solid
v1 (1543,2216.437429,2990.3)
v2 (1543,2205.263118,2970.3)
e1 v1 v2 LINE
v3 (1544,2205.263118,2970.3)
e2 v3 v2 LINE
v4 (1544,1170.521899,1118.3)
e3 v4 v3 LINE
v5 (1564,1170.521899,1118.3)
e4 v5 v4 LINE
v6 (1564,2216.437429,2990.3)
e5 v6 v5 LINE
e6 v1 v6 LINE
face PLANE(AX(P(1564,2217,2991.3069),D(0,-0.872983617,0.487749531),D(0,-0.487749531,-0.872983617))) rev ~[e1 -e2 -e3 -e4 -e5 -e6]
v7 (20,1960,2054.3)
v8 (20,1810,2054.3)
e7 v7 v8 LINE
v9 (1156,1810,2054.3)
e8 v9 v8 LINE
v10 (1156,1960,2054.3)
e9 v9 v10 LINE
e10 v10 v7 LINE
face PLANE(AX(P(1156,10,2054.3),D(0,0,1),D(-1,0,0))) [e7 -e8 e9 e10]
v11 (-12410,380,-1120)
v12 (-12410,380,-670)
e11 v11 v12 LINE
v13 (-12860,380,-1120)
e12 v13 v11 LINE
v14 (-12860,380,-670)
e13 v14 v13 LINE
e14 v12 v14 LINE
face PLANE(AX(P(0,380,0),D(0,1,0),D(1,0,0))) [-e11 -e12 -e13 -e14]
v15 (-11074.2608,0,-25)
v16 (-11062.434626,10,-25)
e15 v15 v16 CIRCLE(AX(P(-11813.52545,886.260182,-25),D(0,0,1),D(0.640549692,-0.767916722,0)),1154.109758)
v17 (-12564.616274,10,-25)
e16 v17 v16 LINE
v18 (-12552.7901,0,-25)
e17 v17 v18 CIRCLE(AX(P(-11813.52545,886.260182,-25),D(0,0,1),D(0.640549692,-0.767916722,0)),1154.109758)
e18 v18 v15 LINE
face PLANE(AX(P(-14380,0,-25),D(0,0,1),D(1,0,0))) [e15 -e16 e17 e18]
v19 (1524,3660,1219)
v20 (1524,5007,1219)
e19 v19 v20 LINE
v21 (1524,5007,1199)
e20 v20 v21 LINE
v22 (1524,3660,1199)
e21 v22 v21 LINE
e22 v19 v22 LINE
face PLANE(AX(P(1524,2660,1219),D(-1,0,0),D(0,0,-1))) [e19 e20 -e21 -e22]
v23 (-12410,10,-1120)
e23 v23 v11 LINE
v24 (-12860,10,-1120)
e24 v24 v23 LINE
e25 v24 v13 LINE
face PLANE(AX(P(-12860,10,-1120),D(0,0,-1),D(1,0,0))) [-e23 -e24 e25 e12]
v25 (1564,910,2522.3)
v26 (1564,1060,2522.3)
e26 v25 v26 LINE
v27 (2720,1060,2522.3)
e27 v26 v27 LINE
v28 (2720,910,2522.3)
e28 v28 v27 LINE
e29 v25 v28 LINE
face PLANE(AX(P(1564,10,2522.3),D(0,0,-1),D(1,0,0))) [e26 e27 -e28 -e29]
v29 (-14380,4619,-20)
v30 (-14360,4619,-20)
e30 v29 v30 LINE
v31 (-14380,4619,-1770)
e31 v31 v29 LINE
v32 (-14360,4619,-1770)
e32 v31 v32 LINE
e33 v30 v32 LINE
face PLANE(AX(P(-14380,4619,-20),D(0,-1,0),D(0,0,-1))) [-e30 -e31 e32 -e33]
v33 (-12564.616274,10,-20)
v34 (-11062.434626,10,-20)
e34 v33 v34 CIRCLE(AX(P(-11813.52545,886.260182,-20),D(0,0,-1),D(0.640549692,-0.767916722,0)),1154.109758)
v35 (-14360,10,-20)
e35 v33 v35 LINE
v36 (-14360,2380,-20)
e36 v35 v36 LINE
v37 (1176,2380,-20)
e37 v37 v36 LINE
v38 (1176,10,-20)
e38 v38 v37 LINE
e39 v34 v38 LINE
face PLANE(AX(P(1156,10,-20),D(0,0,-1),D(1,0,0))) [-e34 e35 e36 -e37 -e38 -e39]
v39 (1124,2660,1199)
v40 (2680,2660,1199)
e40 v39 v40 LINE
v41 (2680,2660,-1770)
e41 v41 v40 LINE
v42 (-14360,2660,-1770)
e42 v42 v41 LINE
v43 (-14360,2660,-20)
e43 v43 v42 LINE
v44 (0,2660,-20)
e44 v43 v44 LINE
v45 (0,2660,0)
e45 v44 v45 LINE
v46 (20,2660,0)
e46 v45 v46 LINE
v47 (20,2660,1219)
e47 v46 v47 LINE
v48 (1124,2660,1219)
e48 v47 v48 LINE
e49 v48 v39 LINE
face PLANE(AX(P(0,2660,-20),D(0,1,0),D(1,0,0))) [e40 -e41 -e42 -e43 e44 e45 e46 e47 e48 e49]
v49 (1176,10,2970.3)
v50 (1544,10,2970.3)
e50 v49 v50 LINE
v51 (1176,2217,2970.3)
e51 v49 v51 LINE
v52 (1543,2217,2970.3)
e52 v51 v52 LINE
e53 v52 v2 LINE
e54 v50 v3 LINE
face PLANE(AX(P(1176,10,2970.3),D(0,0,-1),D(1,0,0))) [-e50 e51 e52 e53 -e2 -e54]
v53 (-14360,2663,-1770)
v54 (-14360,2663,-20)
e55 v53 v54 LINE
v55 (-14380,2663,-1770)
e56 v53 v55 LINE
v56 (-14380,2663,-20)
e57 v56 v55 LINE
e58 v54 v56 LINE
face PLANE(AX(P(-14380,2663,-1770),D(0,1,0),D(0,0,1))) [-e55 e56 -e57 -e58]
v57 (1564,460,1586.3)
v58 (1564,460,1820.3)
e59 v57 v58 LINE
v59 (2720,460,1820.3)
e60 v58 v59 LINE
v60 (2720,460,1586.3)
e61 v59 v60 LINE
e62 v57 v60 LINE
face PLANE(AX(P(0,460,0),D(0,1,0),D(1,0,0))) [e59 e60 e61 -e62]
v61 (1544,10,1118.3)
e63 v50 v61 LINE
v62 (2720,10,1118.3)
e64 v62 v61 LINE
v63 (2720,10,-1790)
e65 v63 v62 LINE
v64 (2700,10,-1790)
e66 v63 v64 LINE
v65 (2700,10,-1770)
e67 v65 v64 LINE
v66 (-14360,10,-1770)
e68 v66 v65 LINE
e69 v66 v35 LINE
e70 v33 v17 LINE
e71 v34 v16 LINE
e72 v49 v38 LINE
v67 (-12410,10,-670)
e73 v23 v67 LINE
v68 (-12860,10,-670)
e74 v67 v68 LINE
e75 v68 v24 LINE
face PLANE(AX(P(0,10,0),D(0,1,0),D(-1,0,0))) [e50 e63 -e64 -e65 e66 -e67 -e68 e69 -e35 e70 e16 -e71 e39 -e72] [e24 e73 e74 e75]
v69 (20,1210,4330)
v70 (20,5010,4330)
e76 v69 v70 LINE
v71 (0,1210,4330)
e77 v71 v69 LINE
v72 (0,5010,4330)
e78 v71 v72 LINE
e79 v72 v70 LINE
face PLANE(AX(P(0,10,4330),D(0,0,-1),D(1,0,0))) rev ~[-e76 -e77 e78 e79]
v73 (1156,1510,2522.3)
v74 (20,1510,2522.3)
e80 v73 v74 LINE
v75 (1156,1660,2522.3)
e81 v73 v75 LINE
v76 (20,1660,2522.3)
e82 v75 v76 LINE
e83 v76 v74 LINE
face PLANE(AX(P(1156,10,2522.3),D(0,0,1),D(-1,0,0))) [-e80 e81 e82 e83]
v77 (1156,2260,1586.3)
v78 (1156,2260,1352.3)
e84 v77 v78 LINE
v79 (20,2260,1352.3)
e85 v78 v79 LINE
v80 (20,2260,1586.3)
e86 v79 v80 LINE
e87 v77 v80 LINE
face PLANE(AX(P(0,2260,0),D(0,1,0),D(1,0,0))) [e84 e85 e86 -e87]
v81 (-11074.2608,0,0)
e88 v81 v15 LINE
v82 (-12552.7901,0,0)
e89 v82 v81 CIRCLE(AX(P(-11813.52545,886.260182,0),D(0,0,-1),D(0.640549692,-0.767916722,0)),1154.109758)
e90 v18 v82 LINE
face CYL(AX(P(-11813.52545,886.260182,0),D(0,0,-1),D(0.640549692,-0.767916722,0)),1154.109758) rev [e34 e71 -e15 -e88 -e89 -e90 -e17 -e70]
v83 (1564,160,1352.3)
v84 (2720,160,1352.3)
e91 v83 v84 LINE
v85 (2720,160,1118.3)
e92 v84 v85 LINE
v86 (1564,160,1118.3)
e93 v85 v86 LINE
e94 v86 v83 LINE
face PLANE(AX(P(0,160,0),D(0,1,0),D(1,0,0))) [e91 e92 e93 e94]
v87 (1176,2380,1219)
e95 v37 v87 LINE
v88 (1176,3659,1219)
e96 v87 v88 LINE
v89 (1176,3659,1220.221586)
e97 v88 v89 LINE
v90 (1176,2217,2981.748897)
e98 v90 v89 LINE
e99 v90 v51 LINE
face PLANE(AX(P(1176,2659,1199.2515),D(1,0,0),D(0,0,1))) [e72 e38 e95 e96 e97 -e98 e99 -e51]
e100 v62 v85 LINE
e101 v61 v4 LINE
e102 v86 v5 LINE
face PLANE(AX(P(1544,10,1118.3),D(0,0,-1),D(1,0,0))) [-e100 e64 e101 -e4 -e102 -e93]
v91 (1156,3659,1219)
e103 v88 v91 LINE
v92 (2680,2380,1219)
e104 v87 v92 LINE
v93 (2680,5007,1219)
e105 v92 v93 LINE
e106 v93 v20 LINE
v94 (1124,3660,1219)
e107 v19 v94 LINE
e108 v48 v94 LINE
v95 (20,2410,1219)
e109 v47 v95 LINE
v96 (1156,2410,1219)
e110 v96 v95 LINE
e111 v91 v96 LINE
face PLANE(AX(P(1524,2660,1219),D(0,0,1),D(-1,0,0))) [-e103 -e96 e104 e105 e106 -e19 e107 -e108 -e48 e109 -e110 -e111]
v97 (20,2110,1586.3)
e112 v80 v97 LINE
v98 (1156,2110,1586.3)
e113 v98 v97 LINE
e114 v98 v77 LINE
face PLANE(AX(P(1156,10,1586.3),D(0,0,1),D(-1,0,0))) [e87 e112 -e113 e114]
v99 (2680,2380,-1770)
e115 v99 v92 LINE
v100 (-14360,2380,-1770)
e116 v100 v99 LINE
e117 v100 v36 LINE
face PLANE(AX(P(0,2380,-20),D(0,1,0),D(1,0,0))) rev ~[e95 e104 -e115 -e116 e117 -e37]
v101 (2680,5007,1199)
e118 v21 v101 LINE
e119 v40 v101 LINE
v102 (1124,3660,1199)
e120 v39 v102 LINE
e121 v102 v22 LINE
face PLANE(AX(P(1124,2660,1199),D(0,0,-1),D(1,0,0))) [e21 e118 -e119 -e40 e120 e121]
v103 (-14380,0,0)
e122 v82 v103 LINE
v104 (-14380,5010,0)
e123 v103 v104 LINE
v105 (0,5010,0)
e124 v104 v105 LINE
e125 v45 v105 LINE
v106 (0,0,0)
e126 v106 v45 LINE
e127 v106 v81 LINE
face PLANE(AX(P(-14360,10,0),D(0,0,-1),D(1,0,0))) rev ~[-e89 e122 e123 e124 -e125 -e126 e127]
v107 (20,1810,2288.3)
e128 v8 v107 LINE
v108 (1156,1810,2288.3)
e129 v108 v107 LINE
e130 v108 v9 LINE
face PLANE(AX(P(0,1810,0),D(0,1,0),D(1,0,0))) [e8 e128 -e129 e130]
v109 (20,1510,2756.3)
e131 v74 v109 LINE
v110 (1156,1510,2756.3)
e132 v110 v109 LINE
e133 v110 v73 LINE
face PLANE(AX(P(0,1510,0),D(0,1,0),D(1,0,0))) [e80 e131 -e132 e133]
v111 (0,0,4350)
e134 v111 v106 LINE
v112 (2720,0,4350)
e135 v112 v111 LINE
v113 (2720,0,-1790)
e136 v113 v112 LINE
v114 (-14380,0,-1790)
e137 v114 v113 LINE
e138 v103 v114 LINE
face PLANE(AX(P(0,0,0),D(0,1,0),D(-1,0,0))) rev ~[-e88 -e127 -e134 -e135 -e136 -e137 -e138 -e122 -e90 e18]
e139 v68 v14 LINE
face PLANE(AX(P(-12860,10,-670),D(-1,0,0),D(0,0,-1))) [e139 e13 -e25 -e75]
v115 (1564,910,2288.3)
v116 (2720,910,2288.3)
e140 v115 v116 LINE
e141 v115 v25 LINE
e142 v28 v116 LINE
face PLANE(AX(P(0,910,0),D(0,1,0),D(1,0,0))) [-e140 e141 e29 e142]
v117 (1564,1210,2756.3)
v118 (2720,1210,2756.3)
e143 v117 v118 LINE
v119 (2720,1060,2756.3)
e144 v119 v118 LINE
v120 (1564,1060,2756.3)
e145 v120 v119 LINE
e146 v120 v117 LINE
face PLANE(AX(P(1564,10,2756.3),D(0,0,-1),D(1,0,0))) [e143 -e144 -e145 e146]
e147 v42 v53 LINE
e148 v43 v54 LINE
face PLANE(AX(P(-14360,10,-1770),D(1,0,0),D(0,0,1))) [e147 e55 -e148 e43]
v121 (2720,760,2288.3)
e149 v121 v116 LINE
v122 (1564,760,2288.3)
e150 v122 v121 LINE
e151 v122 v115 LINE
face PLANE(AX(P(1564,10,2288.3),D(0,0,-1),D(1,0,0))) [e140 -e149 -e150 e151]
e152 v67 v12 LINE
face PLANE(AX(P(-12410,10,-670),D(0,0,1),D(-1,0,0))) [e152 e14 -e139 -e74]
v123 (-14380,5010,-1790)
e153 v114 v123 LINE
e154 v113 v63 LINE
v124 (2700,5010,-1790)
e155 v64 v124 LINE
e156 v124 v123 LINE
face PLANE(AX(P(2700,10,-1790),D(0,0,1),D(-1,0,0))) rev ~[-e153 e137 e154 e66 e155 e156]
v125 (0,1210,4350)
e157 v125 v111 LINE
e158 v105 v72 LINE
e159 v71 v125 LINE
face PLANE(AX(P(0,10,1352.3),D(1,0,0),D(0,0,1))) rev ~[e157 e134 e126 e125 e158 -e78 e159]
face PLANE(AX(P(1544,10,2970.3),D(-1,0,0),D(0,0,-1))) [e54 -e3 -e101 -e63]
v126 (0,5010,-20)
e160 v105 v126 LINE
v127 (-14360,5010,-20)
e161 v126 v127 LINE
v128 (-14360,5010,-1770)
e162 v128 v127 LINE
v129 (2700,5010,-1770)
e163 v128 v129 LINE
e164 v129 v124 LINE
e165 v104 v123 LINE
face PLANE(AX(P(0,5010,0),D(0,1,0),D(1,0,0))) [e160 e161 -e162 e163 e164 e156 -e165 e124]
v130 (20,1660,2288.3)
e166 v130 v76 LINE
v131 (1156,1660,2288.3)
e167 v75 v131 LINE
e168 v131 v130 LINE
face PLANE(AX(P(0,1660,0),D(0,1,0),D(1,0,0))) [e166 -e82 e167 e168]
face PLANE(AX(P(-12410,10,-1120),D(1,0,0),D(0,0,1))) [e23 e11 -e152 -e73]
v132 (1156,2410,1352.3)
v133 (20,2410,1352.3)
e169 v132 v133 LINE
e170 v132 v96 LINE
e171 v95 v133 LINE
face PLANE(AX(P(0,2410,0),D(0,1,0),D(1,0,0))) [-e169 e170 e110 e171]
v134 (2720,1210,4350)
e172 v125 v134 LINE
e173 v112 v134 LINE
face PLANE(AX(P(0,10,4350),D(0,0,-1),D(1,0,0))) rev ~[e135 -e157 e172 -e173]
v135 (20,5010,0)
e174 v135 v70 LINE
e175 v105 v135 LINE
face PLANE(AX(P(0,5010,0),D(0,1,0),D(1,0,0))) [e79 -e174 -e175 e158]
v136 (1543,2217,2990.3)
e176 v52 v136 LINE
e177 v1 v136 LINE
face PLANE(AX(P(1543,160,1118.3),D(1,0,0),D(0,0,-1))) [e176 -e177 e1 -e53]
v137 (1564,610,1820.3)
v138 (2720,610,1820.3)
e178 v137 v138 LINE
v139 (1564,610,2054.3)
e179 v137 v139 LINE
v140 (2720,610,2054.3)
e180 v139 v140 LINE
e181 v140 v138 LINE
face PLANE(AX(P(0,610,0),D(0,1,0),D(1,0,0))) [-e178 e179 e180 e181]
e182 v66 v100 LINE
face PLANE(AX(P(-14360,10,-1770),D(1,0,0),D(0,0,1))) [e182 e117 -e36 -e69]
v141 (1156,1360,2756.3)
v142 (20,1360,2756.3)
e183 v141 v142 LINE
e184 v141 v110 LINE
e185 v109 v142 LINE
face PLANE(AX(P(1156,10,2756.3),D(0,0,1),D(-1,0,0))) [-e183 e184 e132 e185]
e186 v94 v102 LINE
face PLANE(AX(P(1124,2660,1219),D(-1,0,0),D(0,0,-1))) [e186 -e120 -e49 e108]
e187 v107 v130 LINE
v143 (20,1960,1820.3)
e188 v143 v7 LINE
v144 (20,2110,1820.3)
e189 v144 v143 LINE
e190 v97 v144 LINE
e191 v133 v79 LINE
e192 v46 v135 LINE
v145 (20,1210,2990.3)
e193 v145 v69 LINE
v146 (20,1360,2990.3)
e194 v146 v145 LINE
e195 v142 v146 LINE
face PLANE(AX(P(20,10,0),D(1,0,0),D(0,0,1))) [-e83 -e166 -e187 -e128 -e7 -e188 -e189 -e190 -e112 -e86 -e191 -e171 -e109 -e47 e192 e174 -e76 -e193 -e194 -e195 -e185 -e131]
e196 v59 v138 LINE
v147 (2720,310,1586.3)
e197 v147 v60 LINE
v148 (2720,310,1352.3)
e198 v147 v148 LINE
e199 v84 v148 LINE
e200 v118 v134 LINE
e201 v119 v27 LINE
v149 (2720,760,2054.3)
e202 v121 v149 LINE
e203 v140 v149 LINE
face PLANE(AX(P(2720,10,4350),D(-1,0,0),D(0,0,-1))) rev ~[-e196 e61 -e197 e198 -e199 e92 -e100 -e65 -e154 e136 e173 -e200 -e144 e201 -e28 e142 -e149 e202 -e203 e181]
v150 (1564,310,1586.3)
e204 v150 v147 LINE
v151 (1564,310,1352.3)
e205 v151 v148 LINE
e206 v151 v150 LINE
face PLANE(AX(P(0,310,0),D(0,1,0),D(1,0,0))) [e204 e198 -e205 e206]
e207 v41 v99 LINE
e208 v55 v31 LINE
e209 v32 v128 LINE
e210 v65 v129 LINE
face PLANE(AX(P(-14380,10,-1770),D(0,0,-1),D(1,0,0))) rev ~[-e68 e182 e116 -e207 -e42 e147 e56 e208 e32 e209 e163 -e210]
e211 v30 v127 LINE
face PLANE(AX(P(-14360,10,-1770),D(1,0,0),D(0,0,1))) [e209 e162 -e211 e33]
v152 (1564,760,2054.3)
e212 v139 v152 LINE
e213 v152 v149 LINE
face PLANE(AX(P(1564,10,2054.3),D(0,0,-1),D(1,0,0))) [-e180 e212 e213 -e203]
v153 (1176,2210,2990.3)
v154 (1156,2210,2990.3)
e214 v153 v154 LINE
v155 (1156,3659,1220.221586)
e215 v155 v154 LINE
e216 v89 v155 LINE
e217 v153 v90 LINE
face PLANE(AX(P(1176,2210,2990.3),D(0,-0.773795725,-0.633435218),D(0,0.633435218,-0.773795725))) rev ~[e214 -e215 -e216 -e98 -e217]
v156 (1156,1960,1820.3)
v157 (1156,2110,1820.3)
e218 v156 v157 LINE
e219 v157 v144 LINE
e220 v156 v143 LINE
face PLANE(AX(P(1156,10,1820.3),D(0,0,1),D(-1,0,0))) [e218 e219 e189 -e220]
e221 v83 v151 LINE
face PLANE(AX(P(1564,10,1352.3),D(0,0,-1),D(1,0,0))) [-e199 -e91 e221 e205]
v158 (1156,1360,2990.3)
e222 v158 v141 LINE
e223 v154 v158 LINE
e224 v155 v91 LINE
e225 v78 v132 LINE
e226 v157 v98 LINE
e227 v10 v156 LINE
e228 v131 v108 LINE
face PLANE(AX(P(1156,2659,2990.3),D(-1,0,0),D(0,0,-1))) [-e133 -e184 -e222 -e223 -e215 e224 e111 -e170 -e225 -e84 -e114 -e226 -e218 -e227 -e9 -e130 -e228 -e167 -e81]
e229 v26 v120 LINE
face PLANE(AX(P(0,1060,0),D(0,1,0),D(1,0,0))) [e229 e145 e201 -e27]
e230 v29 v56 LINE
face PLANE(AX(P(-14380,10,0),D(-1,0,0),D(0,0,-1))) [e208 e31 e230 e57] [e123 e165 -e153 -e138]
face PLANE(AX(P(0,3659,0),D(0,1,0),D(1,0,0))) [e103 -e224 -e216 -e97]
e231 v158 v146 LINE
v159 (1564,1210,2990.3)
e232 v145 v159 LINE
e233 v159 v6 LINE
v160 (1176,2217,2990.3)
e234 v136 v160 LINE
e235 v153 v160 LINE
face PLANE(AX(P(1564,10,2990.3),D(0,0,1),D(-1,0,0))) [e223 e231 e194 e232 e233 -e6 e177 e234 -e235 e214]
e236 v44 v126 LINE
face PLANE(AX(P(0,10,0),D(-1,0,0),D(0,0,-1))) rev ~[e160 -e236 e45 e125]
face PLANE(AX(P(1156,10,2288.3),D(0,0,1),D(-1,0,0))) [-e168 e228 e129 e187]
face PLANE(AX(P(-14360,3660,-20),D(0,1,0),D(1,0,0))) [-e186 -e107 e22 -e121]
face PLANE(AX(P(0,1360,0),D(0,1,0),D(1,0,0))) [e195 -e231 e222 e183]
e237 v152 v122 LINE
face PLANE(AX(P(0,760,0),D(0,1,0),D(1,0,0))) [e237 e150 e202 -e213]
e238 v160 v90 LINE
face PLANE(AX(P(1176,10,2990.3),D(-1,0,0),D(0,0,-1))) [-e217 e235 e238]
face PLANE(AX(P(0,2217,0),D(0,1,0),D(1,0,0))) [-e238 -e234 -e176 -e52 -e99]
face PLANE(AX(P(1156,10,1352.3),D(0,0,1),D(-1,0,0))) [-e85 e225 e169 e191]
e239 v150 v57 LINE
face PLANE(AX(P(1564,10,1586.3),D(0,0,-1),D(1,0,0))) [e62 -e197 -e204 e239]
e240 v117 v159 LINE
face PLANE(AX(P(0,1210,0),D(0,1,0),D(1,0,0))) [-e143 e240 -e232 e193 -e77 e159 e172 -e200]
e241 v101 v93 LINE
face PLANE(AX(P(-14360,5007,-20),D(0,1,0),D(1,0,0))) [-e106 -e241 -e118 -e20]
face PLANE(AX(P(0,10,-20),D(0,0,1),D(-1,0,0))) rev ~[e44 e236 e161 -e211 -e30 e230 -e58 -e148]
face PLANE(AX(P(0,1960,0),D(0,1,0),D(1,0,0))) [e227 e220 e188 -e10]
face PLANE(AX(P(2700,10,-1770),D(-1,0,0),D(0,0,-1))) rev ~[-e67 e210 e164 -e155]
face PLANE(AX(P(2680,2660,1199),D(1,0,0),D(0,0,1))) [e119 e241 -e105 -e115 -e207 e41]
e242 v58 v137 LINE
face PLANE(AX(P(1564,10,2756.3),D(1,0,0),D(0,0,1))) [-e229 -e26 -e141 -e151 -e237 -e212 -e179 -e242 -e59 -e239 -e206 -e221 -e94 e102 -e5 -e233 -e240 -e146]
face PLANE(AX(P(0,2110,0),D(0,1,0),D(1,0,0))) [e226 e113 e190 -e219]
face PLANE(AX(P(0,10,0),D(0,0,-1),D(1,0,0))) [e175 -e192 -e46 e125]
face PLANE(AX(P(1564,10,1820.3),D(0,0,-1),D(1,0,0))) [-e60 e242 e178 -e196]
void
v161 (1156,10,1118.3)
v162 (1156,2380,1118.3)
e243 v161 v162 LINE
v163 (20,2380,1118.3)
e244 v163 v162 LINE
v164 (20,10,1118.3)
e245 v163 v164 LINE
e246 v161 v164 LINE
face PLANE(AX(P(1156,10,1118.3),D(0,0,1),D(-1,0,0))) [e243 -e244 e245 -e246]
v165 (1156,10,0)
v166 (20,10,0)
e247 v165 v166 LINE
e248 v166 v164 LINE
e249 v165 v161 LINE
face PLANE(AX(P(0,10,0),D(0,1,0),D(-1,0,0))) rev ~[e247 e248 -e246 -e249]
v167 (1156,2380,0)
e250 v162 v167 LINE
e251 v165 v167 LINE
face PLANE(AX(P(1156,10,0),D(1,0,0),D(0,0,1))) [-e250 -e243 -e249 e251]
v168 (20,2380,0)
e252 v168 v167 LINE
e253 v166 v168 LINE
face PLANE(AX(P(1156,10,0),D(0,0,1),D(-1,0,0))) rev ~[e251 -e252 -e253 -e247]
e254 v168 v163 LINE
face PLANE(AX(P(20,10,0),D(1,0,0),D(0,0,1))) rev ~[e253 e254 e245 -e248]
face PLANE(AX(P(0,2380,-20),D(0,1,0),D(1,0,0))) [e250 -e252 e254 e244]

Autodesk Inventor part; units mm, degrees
ref_plane "YZ Plane" through (0, 0, 0) normal (1, 0, 0) x (0, 1, 0)
ref_plane "XZ Plane" through (0, 0, 0) normal (0, 1, 0) x (-1, 0, 0)
sketch "Sketch1" plane through (0, 0, 0) normal (0, 1, 0) x (-1, 0, 0)
  line L0 (0, 0) -> (14380, 0)
  line L1 (14380, 0) -> (14380, -1790)
  line L2 (14380, -1790) -> (0, -1790)
  line L3 (0, -1790) -> (0, 0)
  line L4 (0, -1790) -> (-2720, -1790)
  line L5 (-2720, -1790) -> (-2720, 4350)
  line L6 (-2720, 4350) -> (0, 4350)
  line L7 (0, 4350) -> (0, -1790)
  dimension "d0" = 1790
  dimension "d2" = 14380
  dimension "d3" = 2720
  dimension "d4" = 6140
extrude "Extrusion1" add sketch "Sketch1" along normal blind 10
sketch "Sketch2" plane through (0, 10, 0) normal (0, 1, 0) x (1, 0, 0)
  line L0 (2720, -4350) -> (2720, 1790) projected
  line L1 (0, -4350) -> (2720, -4350)
  line L2 (2720, -4350) -> (2720, -4330)
  line L3 (2720, -4330) -> (0, -4330)
  line L4 (0, -4330) -> (0, -4350)
  dimension "d7" = 20
extrude "Extrusion2" [suppressed]
sketch "Sketch3" plane through (0, 10, 0) normal (0, 1, 0) x (1, 0, 0)
  line L0 (2720, 1790) -> (-14380, 1790) projected
  line L1 (2720, -4330) -> (2700, -4330)
  line L2 (2700, -4330) -> (2700, 1790)
  line L3 (2700, 1790) -> (2720, 1790)
  line L4 (2720, 1790) -> (2720, -4330)
  dimension "d11" = 20
sketch "Sketch4" plane through (0, 10, 0) normal (0, 1, 0) x (1, 0, 0)
  line L0 (-14380, 1790) -> (-14380, 0) projected
  line L1 (2700, 1790) -> (-14380, 1790)
  line L2 (-14380, 1790) -> (-14380, 1770)
  line L3 (-14380, 1770) -> (2700, 1770)
  line L4 (2700, 1770) -> (2700, 1790)
  dimension "d15" = 20
extrude "Extrusion4" add sketch "Sketch4" along normal blind 5000
sketch "Sketch5" plane through (0, 10, 0) normal (0, 1, 0) x (1, 0, 0)
  line L0 (-14380, 0) -> (0, 0) projected
  line L1 (-14380, 1770) -> (-14360, 1770)
  line L2 (-14360, 1770) -> (-14360, 0)
  line L3 (-14360, 0) -> (-14380, 0)
  line L4 (-14380, 0) -> (-14380, 1770)
  dimension "d19" = 20
extrude "Extrusion5" add sketch "Sketch5" along normal blind 5000
sketch "Sketch6" plane through (0, 10, 0) normal (0, 1, 0) x (1, 0, 0)
  line L0 (-14360, 0) -> (0, 0)
  line L1 (0, 0) -> (0, 20)
  line L2 (0, 20) -> (-14360, 20)
  line L3 (-14360, 20) -> (-14360, 0)
  dimension "d23" = 20
extrude "Extrusion6" add sketch "Sketch6" along normal blind 5000
sketch "Sketch7" plane through (0, 10, 0) normal (0, 1, 0) x (1, 0, 0)
  line L0 (0, 0) -> (0, -4350) projected
  line L1 (0, -4330) -> (2720, -4330) projected
  line L2 (0, 0) -> (20, 0)
  line L3 (20, 0) -> (20, -4330)
  line L4 (20, -4330) -> (0, -4330)
  line L5 (0, -4330) -> (0, 0)
  point P0 (2700, -4330)
  dimension "d27" = 20
extrude "Extrusion7" add sketch "Sketch7" along normal blind 5000
ref_plane "Work Plane1" through (2690, 10, 4330) normal (-1, 0, 0) x (0, 0, 1)
sketch "Sketch12" plane through (0, 10, 0) normal (0, 1, 0) x (1, 0, 0)
  line L0 (-14360, 1770) -> (-14360, 20) projected
  line L1 (-14360, 20) -> (0, 20) projected
  line L2 (-12860, 1120) -> (-12410, 1120)
  line L3 (-12410, 1120) -> (-12410, 670)
  line L4 (-12410, 670) -> (-12860, 670)
  line L5 (-12860, 670) -> (-12860, 1120)
  dimension "d115" = 1500
  dimension "d116" = 450
  dimension "d117" = 450
  dimension "d118" = 650
extrude "Extrusion12" add sketch "Sketch12" along normal blind 370
sketch "Sketch13" plane through (-14360, 10, -1770) normal (1, 0, 0) x (0, 0, -1)
  line L0 (-1750, 5000) -> (-1750, 0) projected
  line L1 (0, 0) -> (-1750, 0) projected
  line L2 (0, 5000) -> (0, 0) projected
  line L3 (-1750, 5000) -> (0, 5000) projected
  line L4 (-1750, 2650) -> (0, 2650)
  line L5 (0, 2650) -> (0, 2370)
  line L6 (0, 2370) -> (-1750, 2370)
  line L7 (-1750, 2370) -> (-1750, 2650)
  point P0 (-1770, -10)
  dimension "d121" = 2370
  dimension "d122" = 2350
extrude "Extrusion13" add sketch "Sketch13" along normal blind 17040 contours L4 L2 L6 L0
sketch "Sketch14" plane through (0, 2380, -20) normal (0, 0, 1) x (1, 0, 0)
  line L0 (0, 0) -> (0, 280) projected
  line L1 (0, 0) -> (2680, 0) projected
  line L2 (0, 280) -> (2680, 280)
  line L3 (2680, 280) -> (2680, 0)
  line L4 (2680, 0) -> (0, 0)
  line L5 (0, 0) -> (0, 280)
  point P0 (0, -2380)
extrude "Extrusion14" add sketch "Sketch14" along normal blind 1239
sketch "Sketch16" plane through (-14360, 2660, -20) normal (0, 1, 0) x (1, 0, 0)
  line L0 (17040, -1239) -> (15884, -1239)
  line L1 (15884, -1239) -> (15884, -1219)
  line L2 (15884, -1219) -> (17040, -1219)
  line L3 (17040, -1219) -> (17040, -1239)
  line L4 (15884, -1239) -> (15484, -1239)
  line L5 (15484, -1239) -> (15484, -1219)
  line L6 (15484, -1219) -> (15884, -1219)
  line L7 (15884, -1219) -> (15884, -1239)
  dimension "d168" = 20
  dimension "d170" = 1156
  dimension "d258" = 20
  dimension "d259" = 400
extrude "Extrusion17" add sketch "Sketch16" along normal blind 2347 contours L0 L1 L2 L3
sketch "Sketch17" plane through (-14380, 0, -1790) normal (-1, 0, 0) x (0, 0, 1)
  line L0 (0, 5010) -> (1790, 5010) projected
  line L1 (20, 2663) -> (1770, 2663)
  line L2 (1770, 2663) -> (1770, 4619)
  line L3 (1770, 4619) -> (20, 4619)
  line L4 (20, 4619) -> (20, 2663)
  line L5 (0, 0) -> (0, 5010) projected
  dimension "d179" = 20
  dimension "d180" = 1750
  dimension "d181" = 391
  dimension "d182" = 1956
extrude "Extrusion18" cut sketch "Sketch17" along normal mid plane 50
sketch "Sketch18" plane through (-14380, 0, 0) normal (0, 0, 1) x (1, 0, 0)
  line L0 (0, 0) -> (14380, 0) projected
  arc A0 (3305.7392, 0) -> (1827.2099, 0) centre (2566.4746, 886.2602) ccw
extrude "Extrusion19" cut sketch "Sketch18" along normal mid plane 50
sketch "Sketch19" plane through (0, 10, 0) normal (0, 1, 0) x (1, 0, 0)
  line L0 (2720, -4350) -> (2720, 1790) projected
  line L1 (2720, -1118.3) -> (1564, -1118.3)
  line L2 (1564, -1118.3) -> (1564, -1352.3)
  line L3 (1564, -1352.3) -> (2720, -1352.3)
  line L4 (2720, -1352.3) -> (2720, -1118.3)
  line L5 (2700, 1790) -> (-14380, 1790) projected
  line L6 (2720, -1352.3) -> (1564, -1352.3)
  line L7 (1564, -1352.3) -> (1564, -1586.3)
  line L8 (1564, -1586.3) -> (2720, -1586.3)
  line L9 (2720, -1586.3) -> (2720, -1352.3)
  line L10 (2720, -1586.3) -> (1564, -1586.3)
  line L11 (1564, -1586.3) -> (1564, -1820.3)
  line L12 (1564, -1820.3) -> (2720, -1820.3)
  line L13 (2720, -1820.3) -> (2720, -1586.3)
  line L14 (2720, -1820.3) -> (1564, -1820.3)
  line L15 (1564, -1820.3) -> (1564, -2054.3)
  line L16 (1564, -2054.3) -> (2720, -2054.3)
  line L17 (2720, -2054.3) -> (2720, -1820.3)
  line L18 (2720, -2054.3) -> (1564, -2054.3)
  line L19 (1564, -2054.3) -> (1564, -2288.3)
  line L20 (1564, -2288.3) -> (2720, -2288.3)
  line L21 (2720, -2288.3) -> (2720, -2054.3)
  line L22 (2720, -2288.3) -> (1564, -2288.3)
  line L23 (1564, -2288.3) -> (1564, -2522.3)
  line L24 (1564, -2522.3) -> (2720, -2522.3)
  line L25 (2720, -2522.3) -> (2720, -2288.3)
  line L26 (2720, -2522.3) -> (1564, -2522.3)
  line L27 (1564, -2522.3) -> (1564, -2756.3)
  line L28 (1564, -2756.3) -> (2720, -2756.3)
  line L29 (2720, -2756.3) -> (2720, -2522.3)
  line L30 (2720, -2756.3) -> (1564, -2756.3)
  line L31 (1564, -2756.3) -> (1564, -2990.3)
  line L32 (1564, -2990.3) -> (2720, -2990.3)
  line L33 (2720, -2990.3) -> (2720, -2756.3)
  line L34 (0, 0) -> (0, -4350) projected
  line L35 (2720, -2990.3) -> (0, -2990.3)
  line L36 (0, -2990.3) -> (0, -4350)
  line L37 (0, -4350) -> (2720, -4350)
  line L38 (2720, -4350) -> (2720, -2990.3)
  line L39 (0, -2990.3) -> (1156, -2990.3)
  line L40 (1156, -2990.3) -> (1156, -2756.3)
  line L41 (1156, -2756.3) -> (0, -2756.3)
  line L42 (0, -2756.3) -> (0, -2990.3)
  line L43 (0, -2756.3) -> (1156, -2756.3)
  line L44 (1156, -2756.3) -> (1156, -2522.3)
  line L45 (1156, -2522.3) -> (0, -2522.3)
  line L46 (0, -2522.3) -> (0, -2756.3)
  line L47 (0, -2522.3) -> (1156, -2522.3)
  line L48 (1156, -2522.3) -> (1156, -2288.3)
  line L49 (1156, -2288.3) -> (0, -2288.3)
  line L50 (0, -2288.3) -> (0, -2522.3)
  line L51 (0, -2288.3) -> (1156, -2288.3)
  line L52 (1156, -2288.3) -> (1156, -2054.3)
  line L53 (1156, -2054.3) -> (0, -2054.3)
  line L54 (0, -2054.3) -> (0, -2288.3)
  line L55 (0, -2054.3) -> (1156, -2054.3)
  line L56 (1156, -2054.3) -> (1156, -1820.3)
  line L57 (1156, -1820.3) -> (0, -1820.3)
  line L58 (0, -1820.3) -> (0, -2054.3)
  line L59 (0, -1820.3) -> (1156, -1820.3)
  line L60 (1156, -1820.3) -> (1156, -1586.3)
  line L61 (1156, -1586.3) -> (0, -1586.3)
  line L62 (0, -1586.3) -> (0, -1820.3)
  line L63 (0, -1586.3) -> (1156, -1586.3)
  line L64 (1156, -1586.3) -> (1156, -1352.3)
  line L65 (1156, -1352.3) -> (0, -1352.3)
  line L66 (0, -1352.3) -> (0, -1586.3)
  line L67 (0, -1352.3) -> (1156, -1352.3)
  line L68 (1156, -1352.3) -> (1156, -1118.3)
  line L69 (1156, -1118.3) -> (0, -1118.3)
  line L70 (0, -1118.3) -> (0, -1352.3)
  line L71 (-11062.4346, 20) -> (0, 20) projected
  line L72 (0, 20) -> (1156, 20)
  line L73 (1156, 20) -> (1156, 0)
  line L74 (1156, 0) -> (0, 0)
  line L75 (0, 0) -> (0, 20)
  line L76 (0, 20) -> (2680, 20) projected
  line L77 (1156, -2990.3) -> (1176, -2990.3)
  line L78 (1176, -2990.3) -> (1176, 20)
  line L79 (1176, 20) -> (1156, 20)
  line L80 (1156, 20) -> (1156, -2990.3)
  line L81 (1564, -2990.3) -> (1544, -2990.3)
  line L82 (1544, -2990.3) -> (1544, -1118.3)
  line L83 (1544, -1118.3) -> (1564, -1118.3)
  line L84 (1564, -1118.3) -> (1564, -2990.3)
  line L85 (1544, -2990.3) -> (1176, -2990.3)
  line L86 (1176, -2990.3) -> (1176, -2970.3)
  line L87 (1176, -2970.3) -> (1544, -2970.3)
  line L88 (1544, -2970.3) -> (1544, -2990.3)
  point P0 (0, -2756.3)
  point P1 (0, -2522.3)
  point P2 (0, -2288.3)
  point P3 (0, -2054.3)
  point P4 (0, -1820.3)
  point P5 (0, -1586.3)
  point P6 (0, -1352.3)
  point P7 (0, -1118.3)
  dimension "d183" = 2908.3
  dimension "d184" = 234
  dimension "d185" = 1156
  dimension "d186" = 234
  dimension "d187" = 234
  dimension "d188" = 234
  dimension "d189" = 234
  dimension "d190" = 234
  dimension "d191" = 234
  dimension "d192" = 234
  dimension "d193" = 1156
  dimension "d194" = 0
  dimension "d195" = 0
  dimension "d196" = 0
  dimension "d197" = 0
  dimension "d198" = 0
  dimension "d199" = 0
  dimension "d200" = 0
  dimension "d201" = 1156
  dimension "d202" = 1156
  dimension "d203" = 1156
  dimension "d204" = 1156
  dimension "d205" = 1156
  dimension "d206" = 1156
  dimension "d207" = 1156
  dimension "d208" = 234
  dimension "d209" = 1156
  dimension "d210" = 0
  dimension "d211" = 0
  dimension "d212" = 0
  dimension "d213" = 0
  dimension "d214" = 0
  dimension "d215" = 0
  dimension "d216" = 468
  dimension "d251" = 20
  dimension "d252" = 20
  dimension "d253" = 20
  dimension "d268" = 20
extrude "Extrusion20" add sketch "Sketch19" along normal blind 150 contours L1 L0 L3 L2
extrude "Extrusion21" add sketch "Sketch19" along normal blind 300 contours L8 L7 L3 L0
extrude "Extrusion22" add sketch "Sketch19" along normal blind 450 contours L12 L11 L8 L0
extrude "Extrusion23" add sketch "Sketch19" along normal blind 600 contours L16 L15 L12 L0
extrude "Extrusion24" add sketch "Sketch19" along normal blind 750 contours L20 L19 L16 L0
extrude "Extrusion25" add sketch "Sketch19" along normal blind 900 contours L24 L23 L20 L0
extrude "Extrusion26" add sketch "Sketch19" along normal blind 1050 contours L28 L27 L24 L0
extrude "Extrusion27" add sketch "Sketch19" along normal blind 1200 contours L32 L31 L28 L0
extrude "Extrusion28" add sketch "Sketch19" along normal blind 1200 contours L37 L34 L35 L32 L0
extrude "Extrusion29" add sketch "Sketch19" along normal blind 1350 contours L34 L41 L40 L35
extrude "Extrusion30" add sketch "Sketch19" along normal blind 1500 contours L34 L45 L44 L41
extrude "Extrusion31" add sketch "Sketch19" along normal blind 1650 contours L34 L49 L48 L45
extrude "Extrusion32" add sketch "Sketch19" along normal blind 1800 contours L34 L53 L52 L49
extrude "Extrusion33" add sketch "Sketch19" along normal blind 1950 contours L34 L57 L56 L53
extrude "Extrusion34" add sketch "Sketch19" along normal blind 2100 contours L34 L61 L60 L57
extrude "Extrusion35" add sketch "Sketch19" along normal blind 2250 contours L34 L65 L64 L61
extrude "Extrusion36" add sketch "Sketch19" along normal blind 2400 contours L68 L65 L34 L69
extrude "Extrusion37" add sketch "Sketch19" along normal blind 2649 contours L73 L74 L75 L72
extrude "Extrusion38" add sketch "Sketch19" along normal blind 2649 contours L40 L44 L48 L52 L56 L60 L64 L68 L80 L73 L76 L78 L35
extrude "Extrusion39" add sketch "Sketch16" along normal blind 1000 contours L4 L5 L6 L1
sketch "Sketch20" plane through (0, 2659, 0) normal (0, 1, 0) x (1, 0, 0)
  line L0 (1176, -2990.3) -> (1564, -2990.3) projected
  line L1 (1176, -2990.3) -> (1156, -2990.3)
  line L2 (1156, -2990.3) -> (1156, -1199.2515)
  line L3 (1156, -1199.2515) -> (1176, -1199.2515)
  line L4 (1176, -1199.2515) -> (1176, -2990.3)
  point P0 (0, 0)
  dimension "d262" = 20
extrude "Extrusion40" add sketch "Sketch20" along normal blind 1000
sketch "Sketch21" plane through (1176, 10, 2990.3) normal (1, 0, 0) x (0, 0, -1)
  point P0 (2990.3, -10)
sketch "Sketch22" plane through (1176, 10, 2990.3) normal (1, 0, 0) x (0, 0, -1)
  line L0 (0, 1200) -> (0, 3649) projected
  line L1 (1771.3, 2650) -> (1771.3, 3650) projected
  line L2 (0, 2200) -> (1771.3, 3650)
  line L3 (0, 1350) -> (0, 3649) projected
  line L4 (0, 2200) -> (0, 3649)
  line L5 (0, 3649) -> (1771.3, 3649) projected
  line L6 (0, 3649) -> (1771.3, 3649)
  point P0 (2990.3, -10)
  point P1 (1770.0784, 3649)
  dimension "d265" = 1000
extrude "Extrusion41" cut sketch "Sketch22" against normal blind 30 contours L0 L5 L2
extrude "Extrusion42" add sketch "Sketch19" along normal blind 2207 contours L35 L78 L87 L82
extrude "Extrusion43" add sketch "Sketch19" along normal blind 2207 contours L35 L82 L83 L2 L7 L11 L15 L19 L23 L27 L31
sketch "Sketch23" plane through (1564, 160, 1118.3) normal (1, 0, 0) x (0, 0, -1)
  line L0 (-1873.0069, 2057) -> (18.8323, 1000)
  line L1 (0, 0) -> (0, 2057) projected
  line L2 (18.8323, 1000) -> (0, 2057)
  line L3 (0, 2057) -> (-1873.0069, 2057)
  point P0 (1118.3, -160)
  point P1 (0, 1010.5219)
  dimension "d273" = 1000
extrude "Extrusion44" cut sketch "Sketch23" against normal blind 21 contours L3 L1 L0
properties part number "ATF_Corridors_Drawing"
